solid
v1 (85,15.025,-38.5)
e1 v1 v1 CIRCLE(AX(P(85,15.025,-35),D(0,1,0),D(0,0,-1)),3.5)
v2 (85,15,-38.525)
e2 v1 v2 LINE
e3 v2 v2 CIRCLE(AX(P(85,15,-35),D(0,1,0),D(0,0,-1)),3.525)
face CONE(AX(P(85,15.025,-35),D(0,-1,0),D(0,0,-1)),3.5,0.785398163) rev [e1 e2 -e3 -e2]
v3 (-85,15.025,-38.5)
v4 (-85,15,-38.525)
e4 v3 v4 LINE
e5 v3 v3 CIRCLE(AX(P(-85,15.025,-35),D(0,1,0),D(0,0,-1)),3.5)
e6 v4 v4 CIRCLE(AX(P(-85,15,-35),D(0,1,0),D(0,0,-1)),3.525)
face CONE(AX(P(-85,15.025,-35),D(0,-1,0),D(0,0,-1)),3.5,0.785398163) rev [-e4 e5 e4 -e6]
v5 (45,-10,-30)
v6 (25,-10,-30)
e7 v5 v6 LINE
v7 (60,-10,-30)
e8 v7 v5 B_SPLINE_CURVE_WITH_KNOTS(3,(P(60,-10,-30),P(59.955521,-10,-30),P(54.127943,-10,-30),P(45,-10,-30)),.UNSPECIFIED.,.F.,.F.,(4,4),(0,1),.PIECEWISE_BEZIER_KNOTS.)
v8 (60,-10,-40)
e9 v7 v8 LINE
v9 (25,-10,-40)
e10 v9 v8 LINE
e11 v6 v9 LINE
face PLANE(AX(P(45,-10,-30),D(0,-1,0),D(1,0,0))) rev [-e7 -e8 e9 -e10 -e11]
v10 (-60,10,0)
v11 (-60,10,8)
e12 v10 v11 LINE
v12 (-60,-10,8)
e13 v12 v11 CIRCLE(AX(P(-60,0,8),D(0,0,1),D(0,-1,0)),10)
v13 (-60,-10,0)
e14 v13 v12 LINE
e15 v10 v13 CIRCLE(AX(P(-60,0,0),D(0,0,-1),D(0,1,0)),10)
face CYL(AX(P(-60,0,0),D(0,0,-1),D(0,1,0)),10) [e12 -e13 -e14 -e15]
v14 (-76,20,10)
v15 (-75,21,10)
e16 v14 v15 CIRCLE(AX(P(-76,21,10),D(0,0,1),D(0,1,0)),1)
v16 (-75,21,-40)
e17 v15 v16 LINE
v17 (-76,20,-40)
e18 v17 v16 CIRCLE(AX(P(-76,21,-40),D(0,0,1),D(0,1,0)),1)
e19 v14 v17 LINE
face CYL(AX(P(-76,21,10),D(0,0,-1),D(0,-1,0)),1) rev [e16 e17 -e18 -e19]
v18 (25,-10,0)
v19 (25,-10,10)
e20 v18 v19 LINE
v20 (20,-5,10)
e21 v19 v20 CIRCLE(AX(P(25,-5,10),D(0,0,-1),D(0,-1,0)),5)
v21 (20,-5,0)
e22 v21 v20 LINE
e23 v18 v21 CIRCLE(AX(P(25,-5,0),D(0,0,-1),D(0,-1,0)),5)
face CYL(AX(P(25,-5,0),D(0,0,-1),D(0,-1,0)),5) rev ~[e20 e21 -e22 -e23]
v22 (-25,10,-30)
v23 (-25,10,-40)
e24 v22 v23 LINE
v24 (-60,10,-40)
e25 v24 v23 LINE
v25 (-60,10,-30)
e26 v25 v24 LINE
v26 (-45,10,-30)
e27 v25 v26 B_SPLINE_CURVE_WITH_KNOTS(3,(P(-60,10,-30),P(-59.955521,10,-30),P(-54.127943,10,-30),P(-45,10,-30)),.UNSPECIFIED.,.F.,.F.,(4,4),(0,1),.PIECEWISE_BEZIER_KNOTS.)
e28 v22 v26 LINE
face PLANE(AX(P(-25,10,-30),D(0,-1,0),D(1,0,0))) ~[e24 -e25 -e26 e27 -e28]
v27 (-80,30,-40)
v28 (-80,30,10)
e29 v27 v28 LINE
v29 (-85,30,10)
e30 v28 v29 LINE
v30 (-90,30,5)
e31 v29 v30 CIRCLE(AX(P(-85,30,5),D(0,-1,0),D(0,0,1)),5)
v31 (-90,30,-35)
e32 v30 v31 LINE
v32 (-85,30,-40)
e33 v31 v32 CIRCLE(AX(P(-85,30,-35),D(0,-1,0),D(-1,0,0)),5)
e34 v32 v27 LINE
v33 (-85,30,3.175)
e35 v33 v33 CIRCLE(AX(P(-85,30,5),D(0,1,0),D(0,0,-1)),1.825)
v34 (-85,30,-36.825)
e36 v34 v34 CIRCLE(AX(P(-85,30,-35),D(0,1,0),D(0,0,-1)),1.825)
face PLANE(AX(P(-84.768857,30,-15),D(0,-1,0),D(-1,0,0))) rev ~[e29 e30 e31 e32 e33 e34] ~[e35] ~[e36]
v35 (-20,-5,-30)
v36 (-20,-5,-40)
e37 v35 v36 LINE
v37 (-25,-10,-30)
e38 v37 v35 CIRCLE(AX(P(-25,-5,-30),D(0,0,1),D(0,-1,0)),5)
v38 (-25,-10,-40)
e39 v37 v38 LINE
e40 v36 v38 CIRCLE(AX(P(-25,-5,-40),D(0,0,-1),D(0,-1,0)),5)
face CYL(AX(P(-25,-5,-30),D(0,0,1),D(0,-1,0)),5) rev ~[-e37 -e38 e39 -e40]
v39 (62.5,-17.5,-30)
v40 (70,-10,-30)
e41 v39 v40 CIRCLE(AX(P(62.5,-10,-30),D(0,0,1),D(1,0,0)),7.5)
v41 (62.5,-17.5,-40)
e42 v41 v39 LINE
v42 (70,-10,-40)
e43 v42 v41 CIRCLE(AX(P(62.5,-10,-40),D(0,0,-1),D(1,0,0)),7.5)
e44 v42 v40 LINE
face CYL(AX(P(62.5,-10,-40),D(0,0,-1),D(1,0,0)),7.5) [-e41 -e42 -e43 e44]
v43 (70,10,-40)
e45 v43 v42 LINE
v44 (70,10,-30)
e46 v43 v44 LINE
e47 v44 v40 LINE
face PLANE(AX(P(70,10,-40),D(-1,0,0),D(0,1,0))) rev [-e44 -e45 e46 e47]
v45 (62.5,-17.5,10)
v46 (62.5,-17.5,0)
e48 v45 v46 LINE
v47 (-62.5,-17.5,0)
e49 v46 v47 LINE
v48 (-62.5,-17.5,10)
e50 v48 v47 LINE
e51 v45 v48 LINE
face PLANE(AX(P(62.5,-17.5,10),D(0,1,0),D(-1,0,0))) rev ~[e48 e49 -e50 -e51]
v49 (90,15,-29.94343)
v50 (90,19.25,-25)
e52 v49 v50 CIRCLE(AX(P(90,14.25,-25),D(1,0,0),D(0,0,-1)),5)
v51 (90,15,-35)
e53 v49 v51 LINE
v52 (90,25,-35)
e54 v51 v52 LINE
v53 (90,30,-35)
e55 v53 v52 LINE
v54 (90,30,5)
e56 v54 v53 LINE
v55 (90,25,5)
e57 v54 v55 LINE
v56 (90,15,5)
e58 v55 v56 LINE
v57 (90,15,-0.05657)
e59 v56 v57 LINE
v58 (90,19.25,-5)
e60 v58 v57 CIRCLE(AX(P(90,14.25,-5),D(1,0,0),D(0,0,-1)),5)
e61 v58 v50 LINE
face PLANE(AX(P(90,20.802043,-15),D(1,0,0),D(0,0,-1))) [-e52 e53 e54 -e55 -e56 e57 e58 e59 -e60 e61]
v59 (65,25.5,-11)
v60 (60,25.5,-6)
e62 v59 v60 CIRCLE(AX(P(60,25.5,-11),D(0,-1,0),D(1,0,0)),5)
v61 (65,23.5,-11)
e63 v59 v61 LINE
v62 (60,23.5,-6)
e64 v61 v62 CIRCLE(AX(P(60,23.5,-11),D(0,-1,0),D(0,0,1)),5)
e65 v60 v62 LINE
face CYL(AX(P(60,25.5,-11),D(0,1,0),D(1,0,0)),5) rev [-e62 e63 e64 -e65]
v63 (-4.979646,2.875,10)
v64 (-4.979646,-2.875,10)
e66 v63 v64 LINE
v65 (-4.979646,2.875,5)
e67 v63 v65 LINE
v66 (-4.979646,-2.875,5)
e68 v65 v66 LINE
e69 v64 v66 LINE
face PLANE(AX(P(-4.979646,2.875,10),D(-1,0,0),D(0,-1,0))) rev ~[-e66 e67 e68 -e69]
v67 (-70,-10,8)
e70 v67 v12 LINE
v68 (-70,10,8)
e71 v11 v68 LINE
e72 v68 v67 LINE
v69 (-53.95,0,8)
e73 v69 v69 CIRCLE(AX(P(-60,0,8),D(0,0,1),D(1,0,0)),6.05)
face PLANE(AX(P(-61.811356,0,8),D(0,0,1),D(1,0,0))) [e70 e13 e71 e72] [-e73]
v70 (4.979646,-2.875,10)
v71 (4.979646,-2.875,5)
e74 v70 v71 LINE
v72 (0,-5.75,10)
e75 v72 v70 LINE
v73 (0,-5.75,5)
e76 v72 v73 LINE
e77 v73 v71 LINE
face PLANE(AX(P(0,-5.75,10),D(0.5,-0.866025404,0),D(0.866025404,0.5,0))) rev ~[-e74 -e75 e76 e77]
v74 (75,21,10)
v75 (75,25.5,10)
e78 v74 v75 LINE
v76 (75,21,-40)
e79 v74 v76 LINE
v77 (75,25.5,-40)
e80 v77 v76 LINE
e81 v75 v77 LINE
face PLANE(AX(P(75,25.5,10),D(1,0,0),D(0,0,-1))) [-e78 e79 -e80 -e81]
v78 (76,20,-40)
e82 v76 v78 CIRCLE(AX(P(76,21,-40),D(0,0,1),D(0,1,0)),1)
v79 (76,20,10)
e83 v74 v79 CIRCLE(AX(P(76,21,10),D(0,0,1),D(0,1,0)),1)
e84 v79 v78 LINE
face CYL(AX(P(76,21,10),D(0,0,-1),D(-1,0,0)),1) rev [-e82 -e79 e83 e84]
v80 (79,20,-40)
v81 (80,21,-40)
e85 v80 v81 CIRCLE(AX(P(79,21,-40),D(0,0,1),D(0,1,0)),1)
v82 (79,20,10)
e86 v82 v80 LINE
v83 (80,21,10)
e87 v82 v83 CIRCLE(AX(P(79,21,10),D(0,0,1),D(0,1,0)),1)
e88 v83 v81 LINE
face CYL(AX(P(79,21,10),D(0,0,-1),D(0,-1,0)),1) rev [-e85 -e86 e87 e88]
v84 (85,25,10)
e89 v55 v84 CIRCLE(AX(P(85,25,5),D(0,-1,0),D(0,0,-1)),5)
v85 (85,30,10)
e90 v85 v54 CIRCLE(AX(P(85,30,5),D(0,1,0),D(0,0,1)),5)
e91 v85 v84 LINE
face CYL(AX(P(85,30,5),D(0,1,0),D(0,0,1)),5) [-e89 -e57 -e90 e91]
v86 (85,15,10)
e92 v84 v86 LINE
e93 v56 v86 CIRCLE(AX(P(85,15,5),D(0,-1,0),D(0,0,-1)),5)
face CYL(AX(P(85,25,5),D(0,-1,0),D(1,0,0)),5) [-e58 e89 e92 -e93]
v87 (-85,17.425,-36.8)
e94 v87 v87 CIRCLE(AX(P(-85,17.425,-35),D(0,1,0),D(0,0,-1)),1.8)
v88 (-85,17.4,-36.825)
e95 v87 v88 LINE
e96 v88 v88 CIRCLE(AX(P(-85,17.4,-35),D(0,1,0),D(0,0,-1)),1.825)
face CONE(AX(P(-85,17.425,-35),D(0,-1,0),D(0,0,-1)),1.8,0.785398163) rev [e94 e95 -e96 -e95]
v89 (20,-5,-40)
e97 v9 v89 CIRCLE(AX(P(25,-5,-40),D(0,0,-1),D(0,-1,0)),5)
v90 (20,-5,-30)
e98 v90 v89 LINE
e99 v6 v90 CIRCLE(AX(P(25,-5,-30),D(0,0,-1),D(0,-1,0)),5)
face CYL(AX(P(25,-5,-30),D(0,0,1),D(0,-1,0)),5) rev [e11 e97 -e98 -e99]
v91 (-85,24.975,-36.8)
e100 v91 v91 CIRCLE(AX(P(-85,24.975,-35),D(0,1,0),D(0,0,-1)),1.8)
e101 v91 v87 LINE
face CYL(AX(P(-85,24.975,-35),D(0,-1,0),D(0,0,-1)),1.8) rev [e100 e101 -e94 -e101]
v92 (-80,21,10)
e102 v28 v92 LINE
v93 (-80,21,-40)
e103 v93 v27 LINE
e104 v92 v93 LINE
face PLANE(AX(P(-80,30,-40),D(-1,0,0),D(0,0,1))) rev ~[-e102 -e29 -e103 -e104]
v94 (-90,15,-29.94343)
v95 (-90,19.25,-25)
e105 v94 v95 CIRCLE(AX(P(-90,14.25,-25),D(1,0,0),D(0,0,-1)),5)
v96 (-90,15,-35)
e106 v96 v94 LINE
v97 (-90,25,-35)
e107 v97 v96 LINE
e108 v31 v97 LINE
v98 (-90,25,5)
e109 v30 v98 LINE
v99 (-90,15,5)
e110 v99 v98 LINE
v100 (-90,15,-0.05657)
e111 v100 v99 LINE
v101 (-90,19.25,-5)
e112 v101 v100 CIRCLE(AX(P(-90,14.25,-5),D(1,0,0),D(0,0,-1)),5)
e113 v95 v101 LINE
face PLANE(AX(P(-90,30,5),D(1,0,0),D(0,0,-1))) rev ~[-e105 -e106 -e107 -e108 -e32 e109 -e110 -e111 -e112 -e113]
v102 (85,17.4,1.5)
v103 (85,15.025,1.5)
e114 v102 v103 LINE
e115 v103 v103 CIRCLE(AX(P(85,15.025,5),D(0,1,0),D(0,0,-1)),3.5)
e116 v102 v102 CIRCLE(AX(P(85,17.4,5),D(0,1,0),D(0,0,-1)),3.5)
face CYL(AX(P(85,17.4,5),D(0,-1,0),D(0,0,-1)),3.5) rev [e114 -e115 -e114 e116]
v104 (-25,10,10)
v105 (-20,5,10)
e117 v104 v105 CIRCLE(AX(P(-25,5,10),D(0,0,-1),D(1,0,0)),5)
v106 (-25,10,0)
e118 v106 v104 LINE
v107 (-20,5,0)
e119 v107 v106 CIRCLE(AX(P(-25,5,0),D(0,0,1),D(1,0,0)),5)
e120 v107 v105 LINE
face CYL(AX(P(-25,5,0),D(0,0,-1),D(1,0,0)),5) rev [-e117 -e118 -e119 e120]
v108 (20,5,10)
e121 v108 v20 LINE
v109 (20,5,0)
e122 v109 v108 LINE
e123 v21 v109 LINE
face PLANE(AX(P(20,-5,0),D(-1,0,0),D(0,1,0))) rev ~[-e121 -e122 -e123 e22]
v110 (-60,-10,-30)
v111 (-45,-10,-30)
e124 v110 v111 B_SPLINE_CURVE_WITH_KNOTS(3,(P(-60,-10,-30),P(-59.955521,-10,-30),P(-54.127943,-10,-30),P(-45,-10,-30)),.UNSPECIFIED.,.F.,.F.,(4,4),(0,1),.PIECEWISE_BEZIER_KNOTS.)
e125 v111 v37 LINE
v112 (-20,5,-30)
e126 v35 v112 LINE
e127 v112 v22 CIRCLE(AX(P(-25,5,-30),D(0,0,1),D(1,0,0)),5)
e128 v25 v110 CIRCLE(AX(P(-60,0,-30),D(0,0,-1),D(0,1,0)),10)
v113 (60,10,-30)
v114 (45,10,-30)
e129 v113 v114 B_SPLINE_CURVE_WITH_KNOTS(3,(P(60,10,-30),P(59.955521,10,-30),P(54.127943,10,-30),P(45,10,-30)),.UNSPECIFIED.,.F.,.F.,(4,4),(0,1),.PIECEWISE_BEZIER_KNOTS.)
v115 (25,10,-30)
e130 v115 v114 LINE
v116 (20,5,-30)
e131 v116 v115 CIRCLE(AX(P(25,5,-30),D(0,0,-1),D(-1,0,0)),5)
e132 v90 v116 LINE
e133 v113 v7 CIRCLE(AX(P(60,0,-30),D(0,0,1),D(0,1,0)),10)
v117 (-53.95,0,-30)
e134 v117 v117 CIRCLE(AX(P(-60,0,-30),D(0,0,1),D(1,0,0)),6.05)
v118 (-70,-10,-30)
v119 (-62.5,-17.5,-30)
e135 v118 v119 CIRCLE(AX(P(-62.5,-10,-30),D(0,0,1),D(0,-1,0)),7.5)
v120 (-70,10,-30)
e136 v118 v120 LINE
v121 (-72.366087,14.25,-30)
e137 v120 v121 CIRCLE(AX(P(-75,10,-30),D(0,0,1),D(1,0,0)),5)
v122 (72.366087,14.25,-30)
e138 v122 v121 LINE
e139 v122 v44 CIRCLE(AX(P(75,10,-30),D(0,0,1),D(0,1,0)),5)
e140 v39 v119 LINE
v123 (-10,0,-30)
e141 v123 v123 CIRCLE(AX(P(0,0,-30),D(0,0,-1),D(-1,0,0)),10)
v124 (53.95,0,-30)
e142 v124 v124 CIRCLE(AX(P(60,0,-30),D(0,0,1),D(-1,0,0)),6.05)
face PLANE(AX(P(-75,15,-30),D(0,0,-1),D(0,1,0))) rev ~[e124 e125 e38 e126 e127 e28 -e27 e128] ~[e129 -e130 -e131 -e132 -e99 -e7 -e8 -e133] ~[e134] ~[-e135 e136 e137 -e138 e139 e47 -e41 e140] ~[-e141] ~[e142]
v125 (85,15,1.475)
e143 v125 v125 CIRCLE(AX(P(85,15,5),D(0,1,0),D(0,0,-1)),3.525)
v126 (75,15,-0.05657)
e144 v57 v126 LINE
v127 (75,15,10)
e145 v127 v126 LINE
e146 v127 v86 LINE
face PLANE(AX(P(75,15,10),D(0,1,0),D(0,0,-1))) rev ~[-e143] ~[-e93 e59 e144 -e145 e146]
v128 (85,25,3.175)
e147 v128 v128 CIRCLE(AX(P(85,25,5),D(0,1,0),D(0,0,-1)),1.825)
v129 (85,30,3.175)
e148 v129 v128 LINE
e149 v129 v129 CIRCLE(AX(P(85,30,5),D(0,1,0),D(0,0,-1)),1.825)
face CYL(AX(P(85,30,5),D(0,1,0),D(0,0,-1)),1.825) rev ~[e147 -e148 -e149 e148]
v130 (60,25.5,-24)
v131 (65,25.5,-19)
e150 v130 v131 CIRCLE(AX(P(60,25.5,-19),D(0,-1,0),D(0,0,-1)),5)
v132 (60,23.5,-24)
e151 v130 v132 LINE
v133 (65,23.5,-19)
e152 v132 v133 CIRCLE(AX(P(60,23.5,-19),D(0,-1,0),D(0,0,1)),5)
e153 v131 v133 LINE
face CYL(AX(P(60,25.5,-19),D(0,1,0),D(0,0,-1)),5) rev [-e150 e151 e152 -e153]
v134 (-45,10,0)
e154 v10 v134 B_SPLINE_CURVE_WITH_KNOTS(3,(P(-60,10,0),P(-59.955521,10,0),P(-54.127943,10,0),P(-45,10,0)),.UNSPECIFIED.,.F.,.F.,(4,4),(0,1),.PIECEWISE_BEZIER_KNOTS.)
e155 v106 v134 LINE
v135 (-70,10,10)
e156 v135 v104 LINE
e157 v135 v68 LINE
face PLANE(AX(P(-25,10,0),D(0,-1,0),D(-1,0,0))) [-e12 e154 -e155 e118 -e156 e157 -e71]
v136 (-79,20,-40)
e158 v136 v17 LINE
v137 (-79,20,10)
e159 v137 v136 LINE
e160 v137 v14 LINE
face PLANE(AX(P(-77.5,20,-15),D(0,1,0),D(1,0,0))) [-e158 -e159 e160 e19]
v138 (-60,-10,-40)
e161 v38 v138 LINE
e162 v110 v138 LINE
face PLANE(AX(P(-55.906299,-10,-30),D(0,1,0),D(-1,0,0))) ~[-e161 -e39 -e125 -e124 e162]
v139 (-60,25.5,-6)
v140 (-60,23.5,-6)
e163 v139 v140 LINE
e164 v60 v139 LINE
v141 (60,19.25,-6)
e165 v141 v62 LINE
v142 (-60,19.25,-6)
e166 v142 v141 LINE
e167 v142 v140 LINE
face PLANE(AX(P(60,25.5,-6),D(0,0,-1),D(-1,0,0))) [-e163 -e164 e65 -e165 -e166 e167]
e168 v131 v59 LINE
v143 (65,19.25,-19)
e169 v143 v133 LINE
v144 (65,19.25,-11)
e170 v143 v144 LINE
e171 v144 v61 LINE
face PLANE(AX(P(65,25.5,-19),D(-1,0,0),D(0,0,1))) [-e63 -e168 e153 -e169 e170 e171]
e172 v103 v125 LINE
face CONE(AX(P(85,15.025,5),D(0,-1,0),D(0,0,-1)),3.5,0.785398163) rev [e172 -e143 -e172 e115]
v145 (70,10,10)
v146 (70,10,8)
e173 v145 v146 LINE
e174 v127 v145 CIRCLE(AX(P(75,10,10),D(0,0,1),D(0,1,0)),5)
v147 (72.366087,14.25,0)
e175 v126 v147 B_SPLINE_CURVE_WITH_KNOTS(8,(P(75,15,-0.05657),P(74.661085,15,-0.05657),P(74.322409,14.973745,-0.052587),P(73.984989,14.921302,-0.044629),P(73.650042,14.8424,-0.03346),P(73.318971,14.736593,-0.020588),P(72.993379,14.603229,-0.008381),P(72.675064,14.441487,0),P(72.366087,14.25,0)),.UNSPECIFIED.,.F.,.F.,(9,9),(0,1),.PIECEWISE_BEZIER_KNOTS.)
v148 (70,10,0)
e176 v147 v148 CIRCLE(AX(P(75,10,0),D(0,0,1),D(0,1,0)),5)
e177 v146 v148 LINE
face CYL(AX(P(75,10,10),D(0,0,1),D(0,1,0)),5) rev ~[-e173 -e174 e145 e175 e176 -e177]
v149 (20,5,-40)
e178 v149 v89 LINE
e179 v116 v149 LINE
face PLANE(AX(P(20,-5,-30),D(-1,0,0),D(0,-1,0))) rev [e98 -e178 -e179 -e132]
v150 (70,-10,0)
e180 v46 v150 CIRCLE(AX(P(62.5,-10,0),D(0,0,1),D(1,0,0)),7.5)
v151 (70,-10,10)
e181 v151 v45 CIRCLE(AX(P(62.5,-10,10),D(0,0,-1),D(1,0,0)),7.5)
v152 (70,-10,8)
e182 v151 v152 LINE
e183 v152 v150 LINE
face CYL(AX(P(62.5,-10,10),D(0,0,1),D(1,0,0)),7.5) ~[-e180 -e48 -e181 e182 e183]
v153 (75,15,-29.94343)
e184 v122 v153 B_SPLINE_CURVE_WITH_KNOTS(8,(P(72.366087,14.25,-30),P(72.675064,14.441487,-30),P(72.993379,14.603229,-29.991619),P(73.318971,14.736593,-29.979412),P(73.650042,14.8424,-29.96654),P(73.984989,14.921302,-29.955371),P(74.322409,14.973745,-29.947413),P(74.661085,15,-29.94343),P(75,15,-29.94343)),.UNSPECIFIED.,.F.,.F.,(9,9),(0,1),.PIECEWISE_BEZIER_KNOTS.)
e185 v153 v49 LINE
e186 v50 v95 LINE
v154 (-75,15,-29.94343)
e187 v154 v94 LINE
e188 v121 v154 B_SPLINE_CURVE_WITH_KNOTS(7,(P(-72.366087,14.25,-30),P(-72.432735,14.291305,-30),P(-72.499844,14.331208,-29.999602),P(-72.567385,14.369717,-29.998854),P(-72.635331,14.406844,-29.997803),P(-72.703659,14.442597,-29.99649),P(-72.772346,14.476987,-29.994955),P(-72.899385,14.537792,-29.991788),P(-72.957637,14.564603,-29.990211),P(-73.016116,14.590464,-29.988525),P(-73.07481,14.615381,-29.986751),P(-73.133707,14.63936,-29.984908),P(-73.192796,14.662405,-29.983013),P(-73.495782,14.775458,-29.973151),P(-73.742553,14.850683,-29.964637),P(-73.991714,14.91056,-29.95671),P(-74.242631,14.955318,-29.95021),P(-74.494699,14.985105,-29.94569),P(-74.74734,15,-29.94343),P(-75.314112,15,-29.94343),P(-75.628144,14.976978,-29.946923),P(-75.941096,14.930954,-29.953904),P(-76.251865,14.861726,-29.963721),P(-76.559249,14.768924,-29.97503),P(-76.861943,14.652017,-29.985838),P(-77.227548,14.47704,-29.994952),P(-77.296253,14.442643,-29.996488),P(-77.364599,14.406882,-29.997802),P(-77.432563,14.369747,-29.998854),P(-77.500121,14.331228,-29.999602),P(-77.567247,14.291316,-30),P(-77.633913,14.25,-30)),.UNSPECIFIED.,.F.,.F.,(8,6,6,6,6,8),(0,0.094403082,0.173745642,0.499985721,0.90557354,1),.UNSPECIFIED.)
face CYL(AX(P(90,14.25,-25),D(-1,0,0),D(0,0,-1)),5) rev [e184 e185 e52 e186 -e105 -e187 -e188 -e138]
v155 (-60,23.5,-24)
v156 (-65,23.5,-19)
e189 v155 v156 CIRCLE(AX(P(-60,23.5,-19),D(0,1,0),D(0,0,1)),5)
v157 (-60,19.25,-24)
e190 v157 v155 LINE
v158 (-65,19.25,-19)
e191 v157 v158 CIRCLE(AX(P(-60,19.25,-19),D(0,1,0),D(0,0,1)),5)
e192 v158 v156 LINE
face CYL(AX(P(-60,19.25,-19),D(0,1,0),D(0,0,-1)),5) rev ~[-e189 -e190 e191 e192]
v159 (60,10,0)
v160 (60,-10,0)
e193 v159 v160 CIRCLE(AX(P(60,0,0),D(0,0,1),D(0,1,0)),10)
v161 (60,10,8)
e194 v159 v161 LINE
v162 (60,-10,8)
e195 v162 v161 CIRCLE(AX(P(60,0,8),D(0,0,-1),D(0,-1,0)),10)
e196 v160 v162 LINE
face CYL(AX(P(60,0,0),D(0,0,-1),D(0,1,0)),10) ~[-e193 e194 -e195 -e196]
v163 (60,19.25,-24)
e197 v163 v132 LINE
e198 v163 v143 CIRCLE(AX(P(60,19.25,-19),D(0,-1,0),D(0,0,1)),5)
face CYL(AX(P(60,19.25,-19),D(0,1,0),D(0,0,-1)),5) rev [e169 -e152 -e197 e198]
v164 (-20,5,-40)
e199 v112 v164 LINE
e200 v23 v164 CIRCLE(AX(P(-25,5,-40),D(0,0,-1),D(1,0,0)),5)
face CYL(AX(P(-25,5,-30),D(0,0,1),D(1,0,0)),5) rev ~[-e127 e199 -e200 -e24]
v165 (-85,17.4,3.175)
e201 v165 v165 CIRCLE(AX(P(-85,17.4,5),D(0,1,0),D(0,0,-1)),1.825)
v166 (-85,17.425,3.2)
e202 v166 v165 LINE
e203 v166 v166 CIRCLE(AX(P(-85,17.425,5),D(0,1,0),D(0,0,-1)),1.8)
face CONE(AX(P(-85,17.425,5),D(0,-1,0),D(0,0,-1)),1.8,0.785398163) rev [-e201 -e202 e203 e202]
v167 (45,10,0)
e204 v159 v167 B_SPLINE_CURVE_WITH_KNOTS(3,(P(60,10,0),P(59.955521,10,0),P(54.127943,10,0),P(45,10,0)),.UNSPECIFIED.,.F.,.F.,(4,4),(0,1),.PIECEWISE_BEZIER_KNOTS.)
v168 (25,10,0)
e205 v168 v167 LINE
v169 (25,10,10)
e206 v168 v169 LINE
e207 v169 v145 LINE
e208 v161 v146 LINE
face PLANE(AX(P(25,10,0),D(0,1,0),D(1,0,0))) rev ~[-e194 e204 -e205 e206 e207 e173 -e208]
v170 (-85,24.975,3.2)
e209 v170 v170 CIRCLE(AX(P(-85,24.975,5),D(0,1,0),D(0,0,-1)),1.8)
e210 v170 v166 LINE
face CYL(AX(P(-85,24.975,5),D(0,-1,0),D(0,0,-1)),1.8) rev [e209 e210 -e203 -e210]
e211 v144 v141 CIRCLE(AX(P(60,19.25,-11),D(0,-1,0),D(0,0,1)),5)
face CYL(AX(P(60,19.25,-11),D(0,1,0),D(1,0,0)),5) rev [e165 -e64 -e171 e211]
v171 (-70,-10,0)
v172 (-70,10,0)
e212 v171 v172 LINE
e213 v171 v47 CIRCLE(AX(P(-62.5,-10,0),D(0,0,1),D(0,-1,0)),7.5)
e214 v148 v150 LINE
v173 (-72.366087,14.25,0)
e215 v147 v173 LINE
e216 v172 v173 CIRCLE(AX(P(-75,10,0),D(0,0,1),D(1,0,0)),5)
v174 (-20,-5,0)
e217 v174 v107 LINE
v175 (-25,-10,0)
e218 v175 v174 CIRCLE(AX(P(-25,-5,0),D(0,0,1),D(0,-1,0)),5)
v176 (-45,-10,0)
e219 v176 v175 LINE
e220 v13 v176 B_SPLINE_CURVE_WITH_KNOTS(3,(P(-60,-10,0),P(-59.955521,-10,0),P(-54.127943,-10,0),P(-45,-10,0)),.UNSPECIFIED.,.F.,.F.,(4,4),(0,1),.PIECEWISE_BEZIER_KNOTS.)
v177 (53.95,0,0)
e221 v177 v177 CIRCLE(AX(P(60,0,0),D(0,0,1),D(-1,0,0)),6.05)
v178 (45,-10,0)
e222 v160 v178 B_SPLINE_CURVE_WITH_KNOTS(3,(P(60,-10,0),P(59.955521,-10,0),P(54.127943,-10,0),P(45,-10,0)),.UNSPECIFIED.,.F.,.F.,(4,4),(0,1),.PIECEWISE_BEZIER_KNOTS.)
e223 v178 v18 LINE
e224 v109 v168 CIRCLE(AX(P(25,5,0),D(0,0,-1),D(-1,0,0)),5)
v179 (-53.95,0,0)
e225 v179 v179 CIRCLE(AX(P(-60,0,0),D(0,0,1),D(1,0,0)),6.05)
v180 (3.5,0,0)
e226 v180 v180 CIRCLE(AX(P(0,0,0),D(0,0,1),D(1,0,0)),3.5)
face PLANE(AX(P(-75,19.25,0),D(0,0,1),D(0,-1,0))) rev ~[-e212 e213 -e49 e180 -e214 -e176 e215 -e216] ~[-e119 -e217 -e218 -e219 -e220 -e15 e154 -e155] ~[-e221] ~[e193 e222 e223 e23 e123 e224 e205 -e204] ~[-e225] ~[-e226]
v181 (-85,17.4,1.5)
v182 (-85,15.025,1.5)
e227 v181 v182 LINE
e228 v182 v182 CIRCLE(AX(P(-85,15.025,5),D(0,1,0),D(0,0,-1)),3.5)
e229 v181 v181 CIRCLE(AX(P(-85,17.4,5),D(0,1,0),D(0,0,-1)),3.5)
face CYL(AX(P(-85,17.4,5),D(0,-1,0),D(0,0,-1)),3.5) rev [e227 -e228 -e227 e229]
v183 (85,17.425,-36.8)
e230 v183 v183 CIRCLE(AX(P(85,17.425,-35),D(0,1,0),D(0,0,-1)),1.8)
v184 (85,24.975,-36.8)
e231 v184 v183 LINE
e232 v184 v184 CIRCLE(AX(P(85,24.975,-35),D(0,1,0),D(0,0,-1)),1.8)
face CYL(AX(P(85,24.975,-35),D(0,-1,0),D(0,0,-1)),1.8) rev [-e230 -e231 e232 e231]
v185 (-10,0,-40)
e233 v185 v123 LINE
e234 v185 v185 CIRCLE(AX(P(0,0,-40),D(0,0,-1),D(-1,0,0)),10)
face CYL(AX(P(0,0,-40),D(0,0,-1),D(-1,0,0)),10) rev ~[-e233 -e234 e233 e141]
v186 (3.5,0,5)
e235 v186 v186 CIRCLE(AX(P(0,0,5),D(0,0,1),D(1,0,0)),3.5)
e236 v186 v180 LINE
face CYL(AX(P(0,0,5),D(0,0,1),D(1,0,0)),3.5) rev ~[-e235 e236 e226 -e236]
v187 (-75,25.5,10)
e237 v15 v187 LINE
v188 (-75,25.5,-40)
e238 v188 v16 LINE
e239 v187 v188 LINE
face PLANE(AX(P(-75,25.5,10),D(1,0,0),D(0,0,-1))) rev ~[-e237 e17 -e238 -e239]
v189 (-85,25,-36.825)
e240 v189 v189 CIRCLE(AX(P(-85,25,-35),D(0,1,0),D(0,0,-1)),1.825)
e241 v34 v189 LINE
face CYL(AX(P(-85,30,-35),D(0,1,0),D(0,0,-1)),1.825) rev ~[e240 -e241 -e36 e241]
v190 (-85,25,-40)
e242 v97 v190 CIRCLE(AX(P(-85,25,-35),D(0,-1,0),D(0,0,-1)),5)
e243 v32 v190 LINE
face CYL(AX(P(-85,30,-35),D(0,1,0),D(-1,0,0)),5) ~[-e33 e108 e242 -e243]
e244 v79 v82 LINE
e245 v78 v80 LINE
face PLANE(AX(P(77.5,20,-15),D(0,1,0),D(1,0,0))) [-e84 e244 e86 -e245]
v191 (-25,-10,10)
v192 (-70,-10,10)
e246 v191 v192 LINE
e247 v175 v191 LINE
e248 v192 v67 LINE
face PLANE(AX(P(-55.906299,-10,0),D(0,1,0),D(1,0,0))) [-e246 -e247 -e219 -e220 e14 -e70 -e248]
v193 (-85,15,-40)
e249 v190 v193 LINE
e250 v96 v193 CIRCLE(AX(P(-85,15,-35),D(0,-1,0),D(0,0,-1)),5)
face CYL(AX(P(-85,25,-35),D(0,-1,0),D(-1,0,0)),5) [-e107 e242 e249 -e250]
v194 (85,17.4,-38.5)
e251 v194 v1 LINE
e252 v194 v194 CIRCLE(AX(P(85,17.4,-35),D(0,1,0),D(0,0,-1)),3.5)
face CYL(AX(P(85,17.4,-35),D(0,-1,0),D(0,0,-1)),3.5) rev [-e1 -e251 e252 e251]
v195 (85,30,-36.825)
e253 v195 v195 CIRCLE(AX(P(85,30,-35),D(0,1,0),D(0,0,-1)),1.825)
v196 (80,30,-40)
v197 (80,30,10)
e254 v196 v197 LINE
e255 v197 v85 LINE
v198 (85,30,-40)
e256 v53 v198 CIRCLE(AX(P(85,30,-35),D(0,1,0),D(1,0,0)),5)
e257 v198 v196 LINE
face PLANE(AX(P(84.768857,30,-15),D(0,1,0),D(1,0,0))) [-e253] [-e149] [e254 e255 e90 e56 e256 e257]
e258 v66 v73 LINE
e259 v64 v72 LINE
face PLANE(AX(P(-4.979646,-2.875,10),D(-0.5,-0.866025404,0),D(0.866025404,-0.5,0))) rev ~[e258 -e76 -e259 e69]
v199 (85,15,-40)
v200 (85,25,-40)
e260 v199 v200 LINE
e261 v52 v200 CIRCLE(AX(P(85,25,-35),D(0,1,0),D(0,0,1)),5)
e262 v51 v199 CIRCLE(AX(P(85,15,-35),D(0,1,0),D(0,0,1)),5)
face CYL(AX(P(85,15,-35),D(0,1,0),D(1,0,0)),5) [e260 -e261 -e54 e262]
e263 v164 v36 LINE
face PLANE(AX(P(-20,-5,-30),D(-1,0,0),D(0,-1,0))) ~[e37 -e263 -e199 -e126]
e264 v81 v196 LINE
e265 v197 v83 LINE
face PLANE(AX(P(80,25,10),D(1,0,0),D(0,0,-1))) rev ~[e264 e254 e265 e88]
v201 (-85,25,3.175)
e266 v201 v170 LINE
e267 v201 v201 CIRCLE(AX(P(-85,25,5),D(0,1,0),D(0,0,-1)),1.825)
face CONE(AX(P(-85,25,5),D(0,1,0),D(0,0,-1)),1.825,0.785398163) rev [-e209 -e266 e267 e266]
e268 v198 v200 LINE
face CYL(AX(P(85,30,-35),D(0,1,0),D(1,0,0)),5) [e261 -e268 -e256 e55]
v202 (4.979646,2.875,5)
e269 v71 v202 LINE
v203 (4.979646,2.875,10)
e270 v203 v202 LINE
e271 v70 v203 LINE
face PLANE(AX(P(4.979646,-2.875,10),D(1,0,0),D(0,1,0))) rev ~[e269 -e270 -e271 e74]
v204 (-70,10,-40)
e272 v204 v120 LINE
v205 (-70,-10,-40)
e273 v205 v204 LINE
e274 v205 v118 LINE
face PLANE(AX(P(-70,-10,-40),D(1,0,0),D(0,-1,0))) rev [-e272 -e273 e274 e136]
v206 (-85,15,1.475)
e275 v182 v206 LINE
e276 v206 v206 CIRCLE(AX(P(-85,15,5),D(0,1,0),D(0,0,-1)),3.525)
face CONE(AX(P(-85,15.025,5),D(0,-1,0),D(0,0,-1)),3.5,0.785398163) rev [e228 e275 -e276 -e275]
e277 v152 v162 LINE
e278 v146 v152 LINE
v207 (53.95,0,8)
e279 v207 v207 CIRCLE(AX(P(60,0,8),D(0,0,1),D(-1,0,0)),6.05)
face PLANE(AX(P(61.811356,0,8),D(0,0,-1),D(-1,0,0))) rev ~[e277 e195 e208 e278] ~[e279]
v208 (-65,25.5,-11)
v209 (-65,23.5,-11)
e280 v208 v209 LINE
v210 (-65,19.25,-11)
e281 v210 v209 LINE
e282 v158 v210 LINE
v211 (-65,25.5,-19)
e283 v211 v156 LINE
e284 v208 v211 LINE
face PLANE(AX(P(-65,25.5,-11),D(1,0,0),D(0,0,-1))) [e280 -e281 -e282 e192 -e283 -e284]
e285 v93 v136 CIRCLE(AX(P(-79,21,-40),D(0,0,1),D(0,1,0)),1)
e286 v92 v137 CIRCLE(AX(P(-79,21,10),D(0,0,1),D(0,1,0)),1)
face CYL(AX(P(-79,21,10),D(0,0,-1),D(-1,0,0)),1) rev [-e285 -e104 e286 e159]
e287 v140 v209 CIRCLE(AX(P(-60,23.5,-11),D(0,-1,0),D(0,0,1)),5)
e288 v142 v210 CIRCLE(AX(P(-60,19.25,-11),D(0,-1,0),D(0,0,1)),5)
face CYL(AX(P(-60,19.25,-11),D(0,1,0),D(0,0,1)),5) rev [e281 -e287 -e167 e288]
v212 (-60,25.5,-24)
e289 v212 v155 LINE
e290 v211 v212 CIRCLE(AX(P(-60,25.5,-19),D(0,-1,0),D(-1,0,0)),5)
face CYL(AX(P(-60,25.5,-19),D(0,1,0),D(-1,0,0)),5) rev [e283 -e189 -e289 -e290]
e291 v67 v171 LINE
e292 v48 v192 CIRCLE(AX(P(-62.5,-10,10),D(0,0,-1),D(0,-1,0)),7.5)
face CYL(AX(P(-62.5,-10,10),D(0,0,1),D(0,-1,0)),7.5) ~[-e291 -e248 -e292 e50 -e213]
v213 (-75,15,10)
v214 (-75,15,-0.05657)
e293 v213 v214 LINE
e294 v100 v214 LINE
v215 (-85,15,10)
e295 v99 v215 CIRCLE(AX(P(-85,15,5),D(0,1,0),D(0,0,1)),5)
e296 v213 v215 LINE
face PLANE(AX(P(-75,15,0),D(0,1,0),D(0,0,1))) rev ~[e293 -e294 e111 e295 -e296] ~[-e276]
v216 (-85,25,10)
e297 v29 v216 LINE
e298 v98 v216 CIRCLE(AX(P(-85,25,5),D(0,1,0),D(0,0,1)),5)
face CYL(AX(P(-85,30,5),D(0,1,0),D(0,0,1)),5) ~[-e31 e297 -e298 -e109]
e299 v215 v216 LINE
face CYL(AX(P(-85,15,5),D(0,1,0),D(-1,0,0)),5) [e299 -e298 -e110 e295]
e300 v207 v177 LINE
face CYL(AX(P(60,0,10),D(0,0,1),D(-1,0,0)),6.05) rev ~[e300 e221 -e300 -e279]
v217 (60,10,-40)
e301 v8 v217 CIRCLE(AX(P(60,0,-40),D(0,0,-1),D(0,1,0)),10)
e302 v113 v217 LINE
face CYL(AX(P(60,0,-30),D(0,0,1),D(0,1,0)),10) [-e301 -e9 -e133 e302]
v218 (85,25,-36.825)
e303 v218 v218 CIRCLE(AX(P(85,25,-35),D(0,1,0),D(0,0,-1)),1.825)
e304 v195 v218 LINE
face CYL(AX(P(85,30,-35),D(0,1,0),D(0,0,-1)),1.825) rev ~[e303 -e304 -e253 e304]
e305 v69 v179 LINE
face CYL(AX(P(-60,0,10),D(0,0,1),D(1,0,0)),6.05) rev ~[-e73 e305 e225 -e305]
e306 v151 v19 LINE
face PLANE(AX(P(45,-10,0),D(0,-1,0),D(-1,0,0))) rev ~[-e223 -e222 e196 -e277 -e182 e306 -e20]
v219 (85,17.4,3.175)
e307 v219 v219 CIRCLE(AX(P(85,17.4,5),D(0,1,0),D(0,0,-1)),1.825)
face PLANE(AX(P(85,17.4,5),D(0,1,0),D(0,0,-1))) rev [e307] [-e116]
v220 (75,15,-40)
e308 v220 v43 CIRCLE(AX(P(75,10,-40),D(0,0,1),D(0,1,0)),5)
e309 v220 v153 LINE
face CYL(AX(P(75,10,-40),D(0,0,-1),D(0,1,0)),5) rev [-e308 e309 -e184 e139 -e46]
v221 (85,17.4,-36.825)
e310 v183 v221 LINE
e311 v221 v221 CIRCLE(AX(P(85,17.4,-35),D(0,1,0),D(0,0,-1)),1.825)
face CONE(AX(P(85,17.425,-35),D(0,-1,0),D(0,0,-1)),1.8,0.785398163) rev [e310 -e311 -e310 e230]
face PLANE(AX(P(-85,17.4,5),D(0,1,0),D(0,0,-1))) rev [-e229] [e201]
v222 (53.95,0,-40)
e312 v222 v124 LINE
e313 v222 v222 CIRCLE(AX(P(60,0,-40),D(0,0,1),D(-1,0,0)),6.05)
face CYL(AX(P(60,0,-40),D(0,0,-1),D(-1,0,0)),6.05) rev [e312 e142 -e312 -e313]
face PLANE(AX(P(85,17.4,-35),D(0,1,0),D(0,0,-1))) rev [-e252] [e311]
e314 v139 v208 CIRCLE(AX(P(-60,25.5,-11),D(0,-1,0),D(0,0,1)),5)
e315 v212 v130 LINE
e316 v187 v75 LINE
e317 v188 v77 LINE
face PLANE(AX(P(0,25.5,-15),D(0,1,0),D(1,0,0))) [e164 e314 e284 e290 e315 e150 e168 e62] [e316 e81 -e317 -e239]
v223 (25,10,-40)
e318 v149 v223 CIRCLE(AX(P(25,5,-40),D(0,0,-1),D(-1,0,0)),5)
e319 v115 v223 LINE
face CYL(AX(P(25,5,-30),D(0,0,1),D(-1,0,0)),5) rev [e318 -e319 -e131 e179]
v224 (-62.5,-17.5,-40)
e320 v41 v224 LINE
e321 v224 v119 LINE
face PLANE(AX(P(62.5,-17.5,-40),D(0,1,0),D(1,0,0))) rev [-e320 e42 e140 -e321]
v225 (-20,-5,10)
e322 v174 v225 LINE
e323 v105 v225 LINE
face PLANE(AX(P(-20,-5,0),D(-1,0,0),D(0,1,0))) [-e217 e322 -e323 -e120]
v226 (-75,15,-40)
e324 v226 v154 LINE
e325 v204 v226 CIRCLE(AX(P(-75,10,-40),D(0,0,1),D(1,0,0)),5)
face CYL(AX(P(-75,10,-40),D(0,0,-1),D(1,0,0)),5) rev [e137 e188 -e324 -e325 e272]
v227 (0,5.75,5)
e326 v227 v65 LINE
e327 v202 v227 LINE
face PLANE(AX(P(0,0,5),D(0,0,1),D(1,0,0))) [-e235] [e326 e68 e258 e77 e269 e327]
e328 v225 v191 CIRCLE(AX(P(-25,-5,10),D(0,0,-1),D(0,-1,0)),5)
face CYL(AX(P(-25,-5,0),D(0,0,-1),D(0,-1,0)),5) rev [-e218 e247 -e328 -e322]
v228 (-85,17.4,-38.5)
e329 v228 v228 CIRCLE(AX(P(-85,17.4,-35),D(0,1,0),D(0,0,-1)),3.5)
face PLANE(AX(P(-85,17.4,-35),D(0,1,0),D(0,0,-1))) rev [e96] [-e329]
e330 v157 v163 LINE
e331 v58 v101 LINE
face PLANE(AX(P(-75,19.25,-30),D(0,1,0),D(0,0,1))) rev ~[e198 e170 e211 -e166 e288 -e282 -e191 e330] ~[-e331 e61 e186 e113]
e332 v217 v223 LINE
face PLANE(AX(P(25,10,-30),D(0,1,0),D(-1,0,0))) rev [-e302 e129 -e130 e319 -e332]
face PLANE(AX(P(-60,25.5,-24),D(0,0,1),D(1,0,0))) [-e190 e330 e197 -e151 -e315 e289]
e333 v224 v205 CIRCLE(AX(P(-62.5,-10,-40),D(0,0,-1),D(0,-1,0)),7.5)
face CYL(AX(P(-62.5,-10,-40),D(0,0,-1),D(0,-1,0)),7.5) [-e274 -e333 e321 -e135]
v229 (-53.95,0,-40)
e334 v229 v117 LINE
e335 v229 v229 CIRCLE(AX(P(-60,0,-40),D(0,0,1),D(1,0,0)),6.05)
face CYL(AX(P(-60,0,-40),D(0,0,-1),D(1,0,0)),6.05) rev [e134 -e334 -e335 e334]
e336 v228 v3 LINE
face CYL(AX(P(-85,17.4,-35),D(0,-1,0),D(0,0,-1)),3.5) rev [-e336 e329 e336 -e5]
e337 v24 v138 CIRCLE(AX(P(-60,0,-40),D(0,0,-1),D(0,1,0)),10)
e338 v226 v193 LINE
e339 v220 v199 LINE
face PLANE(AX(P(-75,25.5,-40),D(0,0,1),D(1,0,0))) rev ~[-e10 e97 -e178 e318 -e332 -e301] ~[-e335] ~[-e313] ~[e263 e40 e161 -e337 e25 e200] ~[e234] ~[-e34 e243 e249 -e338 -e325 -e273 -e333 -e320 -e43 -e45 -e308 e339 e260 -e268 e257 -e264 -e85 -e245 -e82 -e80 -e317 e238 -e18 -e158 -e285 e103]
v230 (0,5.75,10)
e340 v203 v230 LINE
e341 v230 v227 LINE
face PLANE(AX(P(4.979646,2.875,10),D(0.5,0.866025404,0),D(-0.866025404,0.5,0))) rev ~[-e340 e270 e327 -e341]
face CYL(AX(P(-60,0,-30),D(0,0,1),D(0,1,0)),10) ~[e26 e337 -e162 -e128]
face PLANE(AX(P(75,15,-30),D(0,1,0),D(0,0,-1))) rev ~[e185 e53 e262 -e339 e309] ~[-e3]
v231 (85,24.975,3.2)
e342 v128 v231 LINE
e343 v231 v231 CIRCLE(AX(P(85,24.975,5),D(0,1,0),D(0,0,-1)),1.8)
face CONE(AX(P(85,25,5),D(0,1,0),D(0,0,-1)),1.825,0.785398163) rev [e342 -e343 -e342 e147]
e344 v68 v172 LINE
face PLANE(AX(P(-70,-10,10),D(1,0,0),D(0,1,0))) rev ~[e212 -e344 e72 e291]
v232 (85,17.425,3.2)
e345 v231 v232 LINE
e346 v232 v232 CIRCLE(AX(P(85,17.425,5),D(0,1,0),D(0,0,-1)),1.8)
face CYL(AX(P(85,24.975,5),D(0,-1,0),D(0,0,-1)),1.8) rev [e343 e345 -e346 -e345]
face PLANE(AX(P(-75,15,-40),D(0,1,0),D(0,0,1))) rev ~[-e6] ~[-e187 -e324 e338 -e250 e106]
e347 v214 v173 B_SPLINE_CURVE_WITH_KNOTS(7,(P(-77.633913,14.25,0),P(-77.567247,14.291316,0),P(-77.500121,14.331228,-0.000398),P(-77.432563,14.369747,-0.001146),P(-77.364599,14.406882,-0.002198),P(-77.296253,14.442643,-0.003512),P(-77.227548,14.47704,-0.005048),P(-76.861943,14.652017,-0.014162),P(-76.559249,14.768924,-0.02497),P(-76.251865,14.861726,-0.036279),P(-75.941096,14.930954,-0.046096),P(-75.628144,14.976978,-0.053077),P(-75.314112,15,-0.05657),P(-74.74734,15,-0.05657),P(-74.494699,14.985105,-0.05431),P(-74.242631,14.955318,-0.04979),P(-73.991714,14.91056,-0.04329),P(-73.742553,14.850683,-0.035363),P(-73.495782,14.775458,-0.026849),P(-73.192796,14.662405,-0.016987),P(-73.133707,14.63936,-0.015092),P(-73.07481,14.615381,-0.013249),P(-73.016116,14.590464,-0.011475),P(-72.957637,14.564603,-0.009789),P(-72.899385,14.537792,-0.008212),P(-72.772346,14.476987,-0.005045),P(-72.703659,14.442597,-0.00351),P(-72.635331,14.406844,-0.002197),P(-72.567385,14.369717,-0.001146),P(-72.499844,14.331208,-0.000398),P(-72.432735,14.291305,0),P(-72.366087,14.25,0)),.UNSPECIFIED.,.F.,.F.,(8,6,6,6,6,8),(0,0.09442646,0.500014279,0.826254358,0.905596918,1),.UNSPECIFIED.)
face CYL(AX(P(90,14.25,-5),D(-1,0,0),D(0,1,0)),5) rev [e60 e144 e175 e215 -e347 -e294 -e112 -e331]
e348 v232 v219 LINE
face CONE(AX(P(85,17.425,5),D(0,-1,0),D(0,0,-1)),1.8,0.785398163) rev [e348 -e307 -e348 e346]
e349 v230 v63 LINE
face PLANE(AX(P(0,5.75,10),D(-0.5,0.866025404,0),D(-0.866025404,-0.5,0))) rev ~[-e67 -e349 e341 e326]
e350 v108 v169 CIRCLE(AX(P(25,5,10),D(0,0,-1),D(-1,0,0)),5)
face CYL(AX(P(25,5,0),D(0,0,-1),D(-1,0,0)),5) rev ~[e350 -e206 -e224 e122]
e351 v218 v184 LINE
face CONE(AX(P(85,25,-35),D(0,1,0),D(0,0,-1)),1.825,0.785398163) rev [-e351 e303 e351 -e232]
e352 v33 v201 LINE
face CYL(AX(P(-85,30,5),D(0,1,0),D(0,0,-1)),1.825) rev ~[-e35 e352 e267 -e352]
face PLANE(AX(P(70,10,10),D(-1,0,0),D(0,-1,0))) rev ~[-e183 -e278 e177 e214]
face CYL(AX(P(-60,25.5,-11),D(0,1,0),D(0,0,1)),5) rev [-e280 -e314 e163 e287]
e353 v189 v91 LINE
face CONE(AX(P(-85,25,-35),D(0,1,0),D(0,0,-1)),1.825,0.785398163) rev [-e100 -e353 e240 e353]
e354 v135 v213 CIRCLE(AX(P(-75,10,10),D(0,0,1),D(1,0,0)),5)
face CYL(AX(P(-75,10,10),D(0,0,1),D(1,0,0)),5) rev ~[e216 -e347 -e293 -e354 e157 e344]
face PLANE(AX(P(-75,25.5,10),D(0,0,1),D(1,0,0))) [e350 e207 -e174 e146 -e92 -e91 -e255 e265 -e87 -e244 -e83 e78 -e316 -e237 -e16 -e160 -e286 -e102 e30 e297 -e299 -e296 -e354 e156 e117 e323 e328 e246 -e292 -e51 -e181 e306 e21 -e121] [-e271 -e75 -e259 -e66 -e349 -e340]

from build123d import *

# Parameters (mm, degrees)
SKETCH_1_W                 = 150
SKETCH_1_H                 = 50
EXTRUDE_1_DEPTH            = 10
CUT_EXTRUDE_5_DEPTH        = 5
SKETCH_6_R                 = 6.05
CUT_EXTRUDE_6_DEPTH        = 80.686887253
CUT_EXTRUDE_7_DEPTH        = 80.686887253
CUT_EXTRUDE_8_DEPTH        = 80.686887253
SKETCH_9_R                 = 3.5
CUT_EXTRUDE_9_DEPTH        = 80.214897721
SKETCH_10_W                = 150
SKETCH_10_H                = 1.5
CUT_EXTRUDE_10_DEPTH       = 80.686887391
SKETCH_11_W                = 150
SKETCH_11_H                = 4.25
EXTRUDE_3_DEPTH            = 15
CUT_EXTRUDE_12_REACH       = 95.152
SKETCH_14_R                = 10
SKETCH_15_W                = 130
SKETCH_15_H                = 18
CUT_EXTRUDE_13_DEPTH       = 93.604333216
FILLET_1_R                 = 5
EXTRUDE_4_DEPTH            = 15
EXTRUDE_5_DEPTH            = 15
FILLET_2_R                 = 5
HOLE_WIZARD_M31_AT_2_COUNT = 2
HOLE_WIZARD_M31_AT_2_PITCH = 40
HOLE_WIZARD_M31_AT_3_COUNT = 2
HOLE_WIZARD_M31_AT_3_PITCH = 170
HOLE_WIZARD_M31_AT_4_COUNT = 2
HOLE_WIZARD_M31_AT_4_PITCH = 174.642491966
CUT_EXTRUDE_20_DEPTH       = 2
SKETCH_22_W                = 5
SKETCH_22_H                = 50
CUT_EXTRUDE_21_DEPTH       = 5
FILLET_3_R                 = 1
FILLET_4_R                 = 5
EXTRUDE_START              = 5
SKETCH_23_R                = 1.825
EXTRUDE_7_DEPTH            = 5
EXTRUDE_START_2            = 2
SKETCH_24_W                = 150
SKETCH_24_H                = 50
EXTRUDE_8_DEPTH            = 2


with BuildPart() as part:
    # Эскиз1 → Бобышка-Вытянуть1 (new body)
    with BuildSketch(Plane.XY):
        Rectangle(SKETCH_1_W, SKETCH_1_H)
    extrude(amount=EXTRUDE_1_DEPTH)

    # Эскиз5 → Вырез-Вытянуть5 (cut)
    with BuildSketch(Plane.XY.offset(10)):
        Polygon((0, 5.75), (-4.979646072, 2.875), (-4.979646072, -2.875), (0, -5.75), (4.979646072, -2.875), (4.979646072, 2.875), align=None)
    extrude(amount=-CUT_EXTRUDE_5_DEPTH, mode=Mode.SUBTRACT)

    # Эскиз6 → Вырез-Вытянуть6 (cut, through all)
    with BuildSketch(Plane.XY.offset(10)):
        with Locations((-60, 0)):
            Circle(SKETCH_6_R)
        with Locations(Location((60, 0, 0), (0, 0, 180))):
            Circle(SKETCH_6_R)
    extrude(amount=-CUT_EXTRUDE_6_DEPTH, mode=Mode.SUBTRACT)

    # Эскиз7 → Вырез-Вытянуть7 (cut, through all)
    with BuildSketch(Plane.XY.offset(10)):
        with BuildLine():
            Line((65, -25), (75, -25))
            Line((75, -25), (75, -15))
            Line((75, -15), (75, 15))
            ThreePointArc((75, 15), (71.464466094, 13.535533906), (70, 10))
            Line((70, 10), (70, -10))
            ThreePointArc((70, -10), (67.803300859, -15.303300859), (62.5, -17.5))
            Line((62.5, -17.5), (27.5, -17.5))
            Line((27.5, -17.5), (-2.5, -17.5))
            Line((-2.5, -17.5), (-32.5, -17.5))
            Line((-32.5, -17.5), (-62.5, -17.5))
            ThreePointArc((-62.5, -17.5), (-67.803300859, -15.303300859), (-70, -10))
            Line((-70, -10), (-70, 10))
            ThreePointArc((-70, 10), (-71.464466094, 13.535533906), (-75, 15))
            Line((-75, 15), (-75, -15))
            Line((-75, -15), (-75, -25))
            Line((-75, -25), (-65, -25))
            Line((-65, -25), (-25, -25))
            Line((-25, -25), (25, -25))
            Line((25, -25), (65, -25))
        make_face()
    extrude(amount=-CUT_EXTRUDE_7_DEPTH, mode=Mode.SUBTRACT)

    # Эскиз8 → Вырез-Вытянуть8 (cut, through all)
    with BuildSketch(Plane(origin=(0, 0, 0), x_dir=(-1, 0, 0), z_dir=(0, 0, -1))):
        with BuildLine():
            Line((20, -5), (20, 5))
            ThreePointArc((20, 5), (21.464466094, 8.535533906), (25, 10))
            Line((25, 10), (45, 10))
            add(Edge.make_bspline(
                [(60, 10), (59.955521003, 10), (54.127943117, 10), (45, 10)],
                knots=[0, 0, 0, 0, 1, 1, 1, 1], degree=3))
            ThreePointArc((60, 10), (50, 0), (60, -10))
            add(Edge.make_bspline(
                [(60, -10), (59.955521003, -10), (54.127943117, -10), (45, -10)],
                knots=[0, 0, 0, 0, 1, 1, 1, 1], degree=3))
            Line((45, -10), (25, -10))
            ThreePointArc((25, -10), (21.464466094, -8.535533906), (20, -5))
        make_face()
        with BuildLine():
            Line((-45, -10), (-25, -10))
            ThreePointArc((-25, -10), (-21.464466094, -8.535533906), (-20, -5))
            Line((-20, -5), (-20, 5))
            ThreePointArc((-20, 5), (-21.464466094, 8.535533906), (-25, 10))
            Line((-25, 10), (-45, 10))
            add(Edge.make_bspline(
                [(-60, 10), (-59.955521003, 10), (-54.127943117, 10), (-45, 10)],
                knots=[0, 0, 0, 0, 1, 1, 1, 1], degree=3))
            ThreePointArc((-60, 10), (-50, 0), (-60, -10))
            add(Edge.make_bspline(
                [(-60, -10), (-59.955521003, -10), (-54.127943117, -10), (-45, -10)],
                knots=[0, 0, 0, 0, 1, 1, 1, 1], degree=3))
        make_face()
    extrude(amount=-CUT_EXTRUDE_8_DEPTH, mode=Mode.SUBTRACT)

    # Эскиз9 → Вырез-Вытянуть9 (cut, through all)
    with BuildSketch(Plane.XY.offset(5)):
        Circle(SKETCH_9_R)
    extrude(amount=-CUT_EXTRUDE_9_DEPTH, mode=Mode.SUBTRACT)

    # Эскиз10 → Вырез-Вытянуть10 (cut, through all)
    with BuildSketch(Plane.XY.offset(10)):
        with Locations((0, 24.25)):
            Rectangle(SKETCH_10_W, SKETCH_10_H)
    extrude(amount=-CUT_EXTRUDE_10_DEPTH, mode=Mode.SUBTRACT)

    # Эскиз11 → Бобышка-Вытянуть3 (add)
    with BuildSketch(Plane(origin=(0, 0, 0), x_dir=(-1, 0, 0), z_dir=(0, 0, -1))):
        with Locations((0, 21.375)):
            Rectangle(SKETCH_11_W, SKETCH_11_H)
    extrude(amount=EXTRUDE_3_DEPTH)

    # Зеркальное отражение9: part across plane


with BuildPart() as part_1:
    add(part.part)
    add(part.part.mirror(Plane(origin=(0, 0, -15), x_dir=(1, 0, 0), z_dir=(0, 0, -1))))

    # Эскиз14 → Вырез-Вытянуть12 (cut, up to next)
    with BuildSketch(Plane(origin=(0, 0, -40), x_dir=(-1, 0, 0), z_dir=(0, 0, -1)), mode=Mode.PRIVATE) as cut_extrude_12_sk1:
        Circle(SKETCH_14_R)
    cut_extrude_12_tool1 = extrude(cut_extrude_12_sk1.sketch, amount=-CUT_EXTRUDE_12_REACH, mode=Mode.PRIVATE) & part_1.part
    add(cut_extrude_12_tool1.solids().sort_by_distance((0, 0, -40))[0], mode=Mode.SUBTRACT)

    # Эскиз15 → Вырез-Вытянуть13 (cut, through all)
    with BuildSketch(Plane.XZ.offset(-19.25)):
        with Locations((0, -15)):
            Rectangle(SKETCH_15_W, SKETCH_15_H)
    extrude(amount=-CUT_EXTRUDE_13_DEPTH, mode=Mode.SUBTRACT)

    # Скругление1
    fillet_1_edges = [part_1.edges().sort_by_distance(p)[0] for p in [
        (65, 21.375, -6),
        (65, 21.375, -24),
        (-65, 21.375, -24),
        (-65, 21.375, -6),
    ]]
    fillet(fillet_1_edges, radius=FILLET_1_R)

    # Эскиз18 → Бобышка-Вытянуть4 (add)
    with BuildSketch(Plane(origin=(75, 0, 0), x_dir=(0, 0, -1), z_dir=(1, 0, 0))):
        Polygon((-10, 23.5), (-10, 15), (0, 15), (0, 19.25), (30, 19.25), (30, 15), (40, 15), (40, 25), (-10, 25), align=None)
    extrude(amount=EXTRUDE_4_DEPTH)

    # Эскиз19 → Бобышка-Вытянуть5 (add)
    with BuildSketch(Plane.ZY.offset(75)):
        Polygon((-40, 15), (-30, 15), (-30, 19.25), (0, 19.25), (0, 15), (10, 15), (10, 25), (-40, 25), align=None)
    extrude(amount=EXTRUDE_5_DEPTH)

    # Скругление2
    fillet_2_edges = [part_1.edges().sort_by_distance(p)[0] for p in [
        (90, 20, 10),
        (90, 20, -40),
        (-90, 20, -40),
        (-90, 20, 10),
    ]]
    fillet(fillet_2_edges, radius=FILLET_2_R)

    # Эскиз20 → Цековка для винта с заклепочной головкой M31 (revolve, cut)
    with BuildSketch(Plane(origin=(-85, 15, -35), x_dir=(0, 0, -1), z_dir=(1, 0, 0))):
        Polygon((0, 0), (0, 10), (1.825, 10), (1.8, 9.975), (1.8, 2.425), (1.825, 2.4), (3.5, 2.4), (3.5, 0.025), (3.525, 0), align=None)
    hole_wizard_m31 = revolve(axis=Axis((-85, 8.65, -35), (0, 1, 0)), mode=Mode.SUBTRACT)

    # Цековка для винта с заклепочной головкой M31 at 2: Цековка для винта с заклепочной головкой M31 ×2
    with Locations(*[(0, 0, i * HOLE_WIZARD_M31_AT_2_PITCH) for i in range(1, HOLE_WIZARD_M31_AT_2_COUNT)]):
        add(hole_wizard_m31, mode=Mode.SUBTRACT)

    # Цековка для винта с заклепочной головкой M31 at 3: Цековка для винта с заклепочной головкой M31 ×2
    with Locations(*[(i * HOLE_WIZARD_M31_AT_3_PITCH, 0, 0) for i in range(1, HOLE_WIZARD_M31_AT_3_COUNT)]):
        add(hole_wizard_m31, mode=Mode.SUBTRACT)

    # Цековка для винта с заклепочной головкой M31 at 4: Цековка для винта с заклепочной головкой M31 ×2
    with Locations(*[Vector(0.9734171683335759, 0, 0.2290393337255473) * (i * HOLE_WIZARD_M31_AT_4_PITCH) for i in range(1, HOLE_WIZARD_M31_AT_4_COUNT)]):
        add(hole_wizard_m31, mode=Mode.SUBTRACT)

    # Эскиз21 → Вырез-Вытянуть20 (cut)
    with BuildSketch(Plane.XY.offset(10)):
        with BuildLine():
            Line((-60, 10), (-70, 10))
            Line((-70, 10), (-70, -10))
            Line((-70, -10), (-60, -10))
            ThreePointArc((-60, -10), (-50, 0), (-60, 10))
        make_face()
        with BuildLine():
            Line((60, 10), (70, 10))
            Line((70, 10), (70, -10))
            Line((70, -10), (60, -10))
            ThreePointArc((60, -10), (50, 0), (60, 10))
        make_face()
    extrude(amount=-CUT_EXTRUDE_20_DEPTH, mode=Mode.SUBTRACT)

    # Эскиз22 → Вырез-Вытянуть21 (cut)
    with BuildSketch(Plane(origin=(0, 25, 0), x_dir=(1, 0, 0), z_dir=(0, 1, 0))):
        with Locations((77.5, 15)):
            Rectangle(SKETCH_22_W, SKETCH_22_H)
        with Locations((-77.5, 15)):
            Rectangle(SKETCH_22_W, SKETCH_22_H)
    extrude(amount=-CUT_EXTRUDE_21_DEPTH, mode=Mode.SUBTRACT)

    # Скругление3
    fillet_3_edges = [part_1.edges().sort_by_distance(p)[0] for p in [
        (75, 20, -15),
        (80, 20, -15),
        (-75, 20, -15),
        (-80, 20, -15),
    ]]
    fillet(fillet_3_edges, radius=FILLET_3_R)

    # Скругление4
    fillet_4_edges = [part_1.edges().sort_by_distance(p)[0] for p in [
        (0, 19.25, 0),
        (0, 19.25, -30),
    ]]
    fillet(fillet_4_edges, radius=FILLET_4_R)

    # Эскиз23 → Бобышка-Вытянуть7 (add)
    # profile 1 of 2: a face of its own
    with BuildSketch(Plane(origin=(0, 25, 0), x_dir=(1, 0, 0), z_dir=(0, 1, 0)).offset(EXTRUDE_START)):
        with BuildLine():
            Line((-80, 40), (-80, -10))
            Line((-80, -10), (-85, -10))
            ThreePointArc((-85, -10), (-88.535533906, -8.535533906), (-90, -5))
            Line((-90, -5), (-90, 35))
            ThreePointArc((-90, 35), (-88.535533906, 38.535533906), (-85, 40))
            Line((-85, 40), (-80, 40))
        make_face()
        with Locations(Location((-85, 35, 0), (0, 0, 90))):
            Circle(SKETCH_23_R, mode=Mode.SUBTRACT)
        with Locations(Location((-85, -5, 0), (0, 0, 90))):
            Circle(SKETCH_23_R, mode=Mode.SUBTRACT)
    # profile 2 of 2: a face of its own
    with BuildSketch(Plane(origin=(0, 25, 0), x_dir=(1, 0, 0), z_dir=(0, 1, 0)).offset(EXTRUDE_START)):
        with BuildLine():
            Line((80, 40), (80, -10))
            Line((80, -10), (85, -10))
            ThreePointArc((85, -10), (88.535533906, -8.535533906), (90, -5))
            Line((90, -5), (90, 35))
            ThreePointArc((90, 35), (88.535533906, 38.535533906), (85, 40))
            Line((85, 40), (80, 40))
        make_face()
        with Locations(Location((85, 35, 0), (0, 0, 90))):
            Circle(SKETCH_23_R, mode=Mode.SUBTRACT)
        with Locations(Location((85, -5, 0), (0, 0, 90))):
            Circle(SKETCH_23_R, mode=Mode.SUBTRACT)
    extrude(amount=-EXTRUDE_7_DEPTH)

    # Эскиз24 → Бобышка-Вытянуть8 (add)
    with BuildSketch(Plane(origin=(0, 23.5, 0), x_dir=(1, 0, 0), z_dir=(0, 1, 0)).offset(EXTRUDE_START_2)):
        with Locations((0, 15)):
            Rectangle(SKETCH_24_W, SKETCH_24_H)
        with BuildLine():
            Line((-60, 24), (60, 24))
            ThreePointArc((60, 24), (63.535533906, 22.535533906), (65, 19))
            Line((65, 19), (65, 11))
            ThreePointArc((65, 11), (63.535533906, 7.464466094), (60, 6))
            Line((60, 6), (-60, 6))
            ThreePointArc((-60, 6), (-63.535533906, 7.464466094), (-65, 11))
            Line((-65, 11), (-65, 19))
            ThreePointArc((-65, 19), (-63.535533906, 22.535533906), (-60, 24))
        make_face(mode=Mode.SUBTRACT)
    extrude(amount=-EXTRUDE_8_DEPTH)


solid = part_1.part
